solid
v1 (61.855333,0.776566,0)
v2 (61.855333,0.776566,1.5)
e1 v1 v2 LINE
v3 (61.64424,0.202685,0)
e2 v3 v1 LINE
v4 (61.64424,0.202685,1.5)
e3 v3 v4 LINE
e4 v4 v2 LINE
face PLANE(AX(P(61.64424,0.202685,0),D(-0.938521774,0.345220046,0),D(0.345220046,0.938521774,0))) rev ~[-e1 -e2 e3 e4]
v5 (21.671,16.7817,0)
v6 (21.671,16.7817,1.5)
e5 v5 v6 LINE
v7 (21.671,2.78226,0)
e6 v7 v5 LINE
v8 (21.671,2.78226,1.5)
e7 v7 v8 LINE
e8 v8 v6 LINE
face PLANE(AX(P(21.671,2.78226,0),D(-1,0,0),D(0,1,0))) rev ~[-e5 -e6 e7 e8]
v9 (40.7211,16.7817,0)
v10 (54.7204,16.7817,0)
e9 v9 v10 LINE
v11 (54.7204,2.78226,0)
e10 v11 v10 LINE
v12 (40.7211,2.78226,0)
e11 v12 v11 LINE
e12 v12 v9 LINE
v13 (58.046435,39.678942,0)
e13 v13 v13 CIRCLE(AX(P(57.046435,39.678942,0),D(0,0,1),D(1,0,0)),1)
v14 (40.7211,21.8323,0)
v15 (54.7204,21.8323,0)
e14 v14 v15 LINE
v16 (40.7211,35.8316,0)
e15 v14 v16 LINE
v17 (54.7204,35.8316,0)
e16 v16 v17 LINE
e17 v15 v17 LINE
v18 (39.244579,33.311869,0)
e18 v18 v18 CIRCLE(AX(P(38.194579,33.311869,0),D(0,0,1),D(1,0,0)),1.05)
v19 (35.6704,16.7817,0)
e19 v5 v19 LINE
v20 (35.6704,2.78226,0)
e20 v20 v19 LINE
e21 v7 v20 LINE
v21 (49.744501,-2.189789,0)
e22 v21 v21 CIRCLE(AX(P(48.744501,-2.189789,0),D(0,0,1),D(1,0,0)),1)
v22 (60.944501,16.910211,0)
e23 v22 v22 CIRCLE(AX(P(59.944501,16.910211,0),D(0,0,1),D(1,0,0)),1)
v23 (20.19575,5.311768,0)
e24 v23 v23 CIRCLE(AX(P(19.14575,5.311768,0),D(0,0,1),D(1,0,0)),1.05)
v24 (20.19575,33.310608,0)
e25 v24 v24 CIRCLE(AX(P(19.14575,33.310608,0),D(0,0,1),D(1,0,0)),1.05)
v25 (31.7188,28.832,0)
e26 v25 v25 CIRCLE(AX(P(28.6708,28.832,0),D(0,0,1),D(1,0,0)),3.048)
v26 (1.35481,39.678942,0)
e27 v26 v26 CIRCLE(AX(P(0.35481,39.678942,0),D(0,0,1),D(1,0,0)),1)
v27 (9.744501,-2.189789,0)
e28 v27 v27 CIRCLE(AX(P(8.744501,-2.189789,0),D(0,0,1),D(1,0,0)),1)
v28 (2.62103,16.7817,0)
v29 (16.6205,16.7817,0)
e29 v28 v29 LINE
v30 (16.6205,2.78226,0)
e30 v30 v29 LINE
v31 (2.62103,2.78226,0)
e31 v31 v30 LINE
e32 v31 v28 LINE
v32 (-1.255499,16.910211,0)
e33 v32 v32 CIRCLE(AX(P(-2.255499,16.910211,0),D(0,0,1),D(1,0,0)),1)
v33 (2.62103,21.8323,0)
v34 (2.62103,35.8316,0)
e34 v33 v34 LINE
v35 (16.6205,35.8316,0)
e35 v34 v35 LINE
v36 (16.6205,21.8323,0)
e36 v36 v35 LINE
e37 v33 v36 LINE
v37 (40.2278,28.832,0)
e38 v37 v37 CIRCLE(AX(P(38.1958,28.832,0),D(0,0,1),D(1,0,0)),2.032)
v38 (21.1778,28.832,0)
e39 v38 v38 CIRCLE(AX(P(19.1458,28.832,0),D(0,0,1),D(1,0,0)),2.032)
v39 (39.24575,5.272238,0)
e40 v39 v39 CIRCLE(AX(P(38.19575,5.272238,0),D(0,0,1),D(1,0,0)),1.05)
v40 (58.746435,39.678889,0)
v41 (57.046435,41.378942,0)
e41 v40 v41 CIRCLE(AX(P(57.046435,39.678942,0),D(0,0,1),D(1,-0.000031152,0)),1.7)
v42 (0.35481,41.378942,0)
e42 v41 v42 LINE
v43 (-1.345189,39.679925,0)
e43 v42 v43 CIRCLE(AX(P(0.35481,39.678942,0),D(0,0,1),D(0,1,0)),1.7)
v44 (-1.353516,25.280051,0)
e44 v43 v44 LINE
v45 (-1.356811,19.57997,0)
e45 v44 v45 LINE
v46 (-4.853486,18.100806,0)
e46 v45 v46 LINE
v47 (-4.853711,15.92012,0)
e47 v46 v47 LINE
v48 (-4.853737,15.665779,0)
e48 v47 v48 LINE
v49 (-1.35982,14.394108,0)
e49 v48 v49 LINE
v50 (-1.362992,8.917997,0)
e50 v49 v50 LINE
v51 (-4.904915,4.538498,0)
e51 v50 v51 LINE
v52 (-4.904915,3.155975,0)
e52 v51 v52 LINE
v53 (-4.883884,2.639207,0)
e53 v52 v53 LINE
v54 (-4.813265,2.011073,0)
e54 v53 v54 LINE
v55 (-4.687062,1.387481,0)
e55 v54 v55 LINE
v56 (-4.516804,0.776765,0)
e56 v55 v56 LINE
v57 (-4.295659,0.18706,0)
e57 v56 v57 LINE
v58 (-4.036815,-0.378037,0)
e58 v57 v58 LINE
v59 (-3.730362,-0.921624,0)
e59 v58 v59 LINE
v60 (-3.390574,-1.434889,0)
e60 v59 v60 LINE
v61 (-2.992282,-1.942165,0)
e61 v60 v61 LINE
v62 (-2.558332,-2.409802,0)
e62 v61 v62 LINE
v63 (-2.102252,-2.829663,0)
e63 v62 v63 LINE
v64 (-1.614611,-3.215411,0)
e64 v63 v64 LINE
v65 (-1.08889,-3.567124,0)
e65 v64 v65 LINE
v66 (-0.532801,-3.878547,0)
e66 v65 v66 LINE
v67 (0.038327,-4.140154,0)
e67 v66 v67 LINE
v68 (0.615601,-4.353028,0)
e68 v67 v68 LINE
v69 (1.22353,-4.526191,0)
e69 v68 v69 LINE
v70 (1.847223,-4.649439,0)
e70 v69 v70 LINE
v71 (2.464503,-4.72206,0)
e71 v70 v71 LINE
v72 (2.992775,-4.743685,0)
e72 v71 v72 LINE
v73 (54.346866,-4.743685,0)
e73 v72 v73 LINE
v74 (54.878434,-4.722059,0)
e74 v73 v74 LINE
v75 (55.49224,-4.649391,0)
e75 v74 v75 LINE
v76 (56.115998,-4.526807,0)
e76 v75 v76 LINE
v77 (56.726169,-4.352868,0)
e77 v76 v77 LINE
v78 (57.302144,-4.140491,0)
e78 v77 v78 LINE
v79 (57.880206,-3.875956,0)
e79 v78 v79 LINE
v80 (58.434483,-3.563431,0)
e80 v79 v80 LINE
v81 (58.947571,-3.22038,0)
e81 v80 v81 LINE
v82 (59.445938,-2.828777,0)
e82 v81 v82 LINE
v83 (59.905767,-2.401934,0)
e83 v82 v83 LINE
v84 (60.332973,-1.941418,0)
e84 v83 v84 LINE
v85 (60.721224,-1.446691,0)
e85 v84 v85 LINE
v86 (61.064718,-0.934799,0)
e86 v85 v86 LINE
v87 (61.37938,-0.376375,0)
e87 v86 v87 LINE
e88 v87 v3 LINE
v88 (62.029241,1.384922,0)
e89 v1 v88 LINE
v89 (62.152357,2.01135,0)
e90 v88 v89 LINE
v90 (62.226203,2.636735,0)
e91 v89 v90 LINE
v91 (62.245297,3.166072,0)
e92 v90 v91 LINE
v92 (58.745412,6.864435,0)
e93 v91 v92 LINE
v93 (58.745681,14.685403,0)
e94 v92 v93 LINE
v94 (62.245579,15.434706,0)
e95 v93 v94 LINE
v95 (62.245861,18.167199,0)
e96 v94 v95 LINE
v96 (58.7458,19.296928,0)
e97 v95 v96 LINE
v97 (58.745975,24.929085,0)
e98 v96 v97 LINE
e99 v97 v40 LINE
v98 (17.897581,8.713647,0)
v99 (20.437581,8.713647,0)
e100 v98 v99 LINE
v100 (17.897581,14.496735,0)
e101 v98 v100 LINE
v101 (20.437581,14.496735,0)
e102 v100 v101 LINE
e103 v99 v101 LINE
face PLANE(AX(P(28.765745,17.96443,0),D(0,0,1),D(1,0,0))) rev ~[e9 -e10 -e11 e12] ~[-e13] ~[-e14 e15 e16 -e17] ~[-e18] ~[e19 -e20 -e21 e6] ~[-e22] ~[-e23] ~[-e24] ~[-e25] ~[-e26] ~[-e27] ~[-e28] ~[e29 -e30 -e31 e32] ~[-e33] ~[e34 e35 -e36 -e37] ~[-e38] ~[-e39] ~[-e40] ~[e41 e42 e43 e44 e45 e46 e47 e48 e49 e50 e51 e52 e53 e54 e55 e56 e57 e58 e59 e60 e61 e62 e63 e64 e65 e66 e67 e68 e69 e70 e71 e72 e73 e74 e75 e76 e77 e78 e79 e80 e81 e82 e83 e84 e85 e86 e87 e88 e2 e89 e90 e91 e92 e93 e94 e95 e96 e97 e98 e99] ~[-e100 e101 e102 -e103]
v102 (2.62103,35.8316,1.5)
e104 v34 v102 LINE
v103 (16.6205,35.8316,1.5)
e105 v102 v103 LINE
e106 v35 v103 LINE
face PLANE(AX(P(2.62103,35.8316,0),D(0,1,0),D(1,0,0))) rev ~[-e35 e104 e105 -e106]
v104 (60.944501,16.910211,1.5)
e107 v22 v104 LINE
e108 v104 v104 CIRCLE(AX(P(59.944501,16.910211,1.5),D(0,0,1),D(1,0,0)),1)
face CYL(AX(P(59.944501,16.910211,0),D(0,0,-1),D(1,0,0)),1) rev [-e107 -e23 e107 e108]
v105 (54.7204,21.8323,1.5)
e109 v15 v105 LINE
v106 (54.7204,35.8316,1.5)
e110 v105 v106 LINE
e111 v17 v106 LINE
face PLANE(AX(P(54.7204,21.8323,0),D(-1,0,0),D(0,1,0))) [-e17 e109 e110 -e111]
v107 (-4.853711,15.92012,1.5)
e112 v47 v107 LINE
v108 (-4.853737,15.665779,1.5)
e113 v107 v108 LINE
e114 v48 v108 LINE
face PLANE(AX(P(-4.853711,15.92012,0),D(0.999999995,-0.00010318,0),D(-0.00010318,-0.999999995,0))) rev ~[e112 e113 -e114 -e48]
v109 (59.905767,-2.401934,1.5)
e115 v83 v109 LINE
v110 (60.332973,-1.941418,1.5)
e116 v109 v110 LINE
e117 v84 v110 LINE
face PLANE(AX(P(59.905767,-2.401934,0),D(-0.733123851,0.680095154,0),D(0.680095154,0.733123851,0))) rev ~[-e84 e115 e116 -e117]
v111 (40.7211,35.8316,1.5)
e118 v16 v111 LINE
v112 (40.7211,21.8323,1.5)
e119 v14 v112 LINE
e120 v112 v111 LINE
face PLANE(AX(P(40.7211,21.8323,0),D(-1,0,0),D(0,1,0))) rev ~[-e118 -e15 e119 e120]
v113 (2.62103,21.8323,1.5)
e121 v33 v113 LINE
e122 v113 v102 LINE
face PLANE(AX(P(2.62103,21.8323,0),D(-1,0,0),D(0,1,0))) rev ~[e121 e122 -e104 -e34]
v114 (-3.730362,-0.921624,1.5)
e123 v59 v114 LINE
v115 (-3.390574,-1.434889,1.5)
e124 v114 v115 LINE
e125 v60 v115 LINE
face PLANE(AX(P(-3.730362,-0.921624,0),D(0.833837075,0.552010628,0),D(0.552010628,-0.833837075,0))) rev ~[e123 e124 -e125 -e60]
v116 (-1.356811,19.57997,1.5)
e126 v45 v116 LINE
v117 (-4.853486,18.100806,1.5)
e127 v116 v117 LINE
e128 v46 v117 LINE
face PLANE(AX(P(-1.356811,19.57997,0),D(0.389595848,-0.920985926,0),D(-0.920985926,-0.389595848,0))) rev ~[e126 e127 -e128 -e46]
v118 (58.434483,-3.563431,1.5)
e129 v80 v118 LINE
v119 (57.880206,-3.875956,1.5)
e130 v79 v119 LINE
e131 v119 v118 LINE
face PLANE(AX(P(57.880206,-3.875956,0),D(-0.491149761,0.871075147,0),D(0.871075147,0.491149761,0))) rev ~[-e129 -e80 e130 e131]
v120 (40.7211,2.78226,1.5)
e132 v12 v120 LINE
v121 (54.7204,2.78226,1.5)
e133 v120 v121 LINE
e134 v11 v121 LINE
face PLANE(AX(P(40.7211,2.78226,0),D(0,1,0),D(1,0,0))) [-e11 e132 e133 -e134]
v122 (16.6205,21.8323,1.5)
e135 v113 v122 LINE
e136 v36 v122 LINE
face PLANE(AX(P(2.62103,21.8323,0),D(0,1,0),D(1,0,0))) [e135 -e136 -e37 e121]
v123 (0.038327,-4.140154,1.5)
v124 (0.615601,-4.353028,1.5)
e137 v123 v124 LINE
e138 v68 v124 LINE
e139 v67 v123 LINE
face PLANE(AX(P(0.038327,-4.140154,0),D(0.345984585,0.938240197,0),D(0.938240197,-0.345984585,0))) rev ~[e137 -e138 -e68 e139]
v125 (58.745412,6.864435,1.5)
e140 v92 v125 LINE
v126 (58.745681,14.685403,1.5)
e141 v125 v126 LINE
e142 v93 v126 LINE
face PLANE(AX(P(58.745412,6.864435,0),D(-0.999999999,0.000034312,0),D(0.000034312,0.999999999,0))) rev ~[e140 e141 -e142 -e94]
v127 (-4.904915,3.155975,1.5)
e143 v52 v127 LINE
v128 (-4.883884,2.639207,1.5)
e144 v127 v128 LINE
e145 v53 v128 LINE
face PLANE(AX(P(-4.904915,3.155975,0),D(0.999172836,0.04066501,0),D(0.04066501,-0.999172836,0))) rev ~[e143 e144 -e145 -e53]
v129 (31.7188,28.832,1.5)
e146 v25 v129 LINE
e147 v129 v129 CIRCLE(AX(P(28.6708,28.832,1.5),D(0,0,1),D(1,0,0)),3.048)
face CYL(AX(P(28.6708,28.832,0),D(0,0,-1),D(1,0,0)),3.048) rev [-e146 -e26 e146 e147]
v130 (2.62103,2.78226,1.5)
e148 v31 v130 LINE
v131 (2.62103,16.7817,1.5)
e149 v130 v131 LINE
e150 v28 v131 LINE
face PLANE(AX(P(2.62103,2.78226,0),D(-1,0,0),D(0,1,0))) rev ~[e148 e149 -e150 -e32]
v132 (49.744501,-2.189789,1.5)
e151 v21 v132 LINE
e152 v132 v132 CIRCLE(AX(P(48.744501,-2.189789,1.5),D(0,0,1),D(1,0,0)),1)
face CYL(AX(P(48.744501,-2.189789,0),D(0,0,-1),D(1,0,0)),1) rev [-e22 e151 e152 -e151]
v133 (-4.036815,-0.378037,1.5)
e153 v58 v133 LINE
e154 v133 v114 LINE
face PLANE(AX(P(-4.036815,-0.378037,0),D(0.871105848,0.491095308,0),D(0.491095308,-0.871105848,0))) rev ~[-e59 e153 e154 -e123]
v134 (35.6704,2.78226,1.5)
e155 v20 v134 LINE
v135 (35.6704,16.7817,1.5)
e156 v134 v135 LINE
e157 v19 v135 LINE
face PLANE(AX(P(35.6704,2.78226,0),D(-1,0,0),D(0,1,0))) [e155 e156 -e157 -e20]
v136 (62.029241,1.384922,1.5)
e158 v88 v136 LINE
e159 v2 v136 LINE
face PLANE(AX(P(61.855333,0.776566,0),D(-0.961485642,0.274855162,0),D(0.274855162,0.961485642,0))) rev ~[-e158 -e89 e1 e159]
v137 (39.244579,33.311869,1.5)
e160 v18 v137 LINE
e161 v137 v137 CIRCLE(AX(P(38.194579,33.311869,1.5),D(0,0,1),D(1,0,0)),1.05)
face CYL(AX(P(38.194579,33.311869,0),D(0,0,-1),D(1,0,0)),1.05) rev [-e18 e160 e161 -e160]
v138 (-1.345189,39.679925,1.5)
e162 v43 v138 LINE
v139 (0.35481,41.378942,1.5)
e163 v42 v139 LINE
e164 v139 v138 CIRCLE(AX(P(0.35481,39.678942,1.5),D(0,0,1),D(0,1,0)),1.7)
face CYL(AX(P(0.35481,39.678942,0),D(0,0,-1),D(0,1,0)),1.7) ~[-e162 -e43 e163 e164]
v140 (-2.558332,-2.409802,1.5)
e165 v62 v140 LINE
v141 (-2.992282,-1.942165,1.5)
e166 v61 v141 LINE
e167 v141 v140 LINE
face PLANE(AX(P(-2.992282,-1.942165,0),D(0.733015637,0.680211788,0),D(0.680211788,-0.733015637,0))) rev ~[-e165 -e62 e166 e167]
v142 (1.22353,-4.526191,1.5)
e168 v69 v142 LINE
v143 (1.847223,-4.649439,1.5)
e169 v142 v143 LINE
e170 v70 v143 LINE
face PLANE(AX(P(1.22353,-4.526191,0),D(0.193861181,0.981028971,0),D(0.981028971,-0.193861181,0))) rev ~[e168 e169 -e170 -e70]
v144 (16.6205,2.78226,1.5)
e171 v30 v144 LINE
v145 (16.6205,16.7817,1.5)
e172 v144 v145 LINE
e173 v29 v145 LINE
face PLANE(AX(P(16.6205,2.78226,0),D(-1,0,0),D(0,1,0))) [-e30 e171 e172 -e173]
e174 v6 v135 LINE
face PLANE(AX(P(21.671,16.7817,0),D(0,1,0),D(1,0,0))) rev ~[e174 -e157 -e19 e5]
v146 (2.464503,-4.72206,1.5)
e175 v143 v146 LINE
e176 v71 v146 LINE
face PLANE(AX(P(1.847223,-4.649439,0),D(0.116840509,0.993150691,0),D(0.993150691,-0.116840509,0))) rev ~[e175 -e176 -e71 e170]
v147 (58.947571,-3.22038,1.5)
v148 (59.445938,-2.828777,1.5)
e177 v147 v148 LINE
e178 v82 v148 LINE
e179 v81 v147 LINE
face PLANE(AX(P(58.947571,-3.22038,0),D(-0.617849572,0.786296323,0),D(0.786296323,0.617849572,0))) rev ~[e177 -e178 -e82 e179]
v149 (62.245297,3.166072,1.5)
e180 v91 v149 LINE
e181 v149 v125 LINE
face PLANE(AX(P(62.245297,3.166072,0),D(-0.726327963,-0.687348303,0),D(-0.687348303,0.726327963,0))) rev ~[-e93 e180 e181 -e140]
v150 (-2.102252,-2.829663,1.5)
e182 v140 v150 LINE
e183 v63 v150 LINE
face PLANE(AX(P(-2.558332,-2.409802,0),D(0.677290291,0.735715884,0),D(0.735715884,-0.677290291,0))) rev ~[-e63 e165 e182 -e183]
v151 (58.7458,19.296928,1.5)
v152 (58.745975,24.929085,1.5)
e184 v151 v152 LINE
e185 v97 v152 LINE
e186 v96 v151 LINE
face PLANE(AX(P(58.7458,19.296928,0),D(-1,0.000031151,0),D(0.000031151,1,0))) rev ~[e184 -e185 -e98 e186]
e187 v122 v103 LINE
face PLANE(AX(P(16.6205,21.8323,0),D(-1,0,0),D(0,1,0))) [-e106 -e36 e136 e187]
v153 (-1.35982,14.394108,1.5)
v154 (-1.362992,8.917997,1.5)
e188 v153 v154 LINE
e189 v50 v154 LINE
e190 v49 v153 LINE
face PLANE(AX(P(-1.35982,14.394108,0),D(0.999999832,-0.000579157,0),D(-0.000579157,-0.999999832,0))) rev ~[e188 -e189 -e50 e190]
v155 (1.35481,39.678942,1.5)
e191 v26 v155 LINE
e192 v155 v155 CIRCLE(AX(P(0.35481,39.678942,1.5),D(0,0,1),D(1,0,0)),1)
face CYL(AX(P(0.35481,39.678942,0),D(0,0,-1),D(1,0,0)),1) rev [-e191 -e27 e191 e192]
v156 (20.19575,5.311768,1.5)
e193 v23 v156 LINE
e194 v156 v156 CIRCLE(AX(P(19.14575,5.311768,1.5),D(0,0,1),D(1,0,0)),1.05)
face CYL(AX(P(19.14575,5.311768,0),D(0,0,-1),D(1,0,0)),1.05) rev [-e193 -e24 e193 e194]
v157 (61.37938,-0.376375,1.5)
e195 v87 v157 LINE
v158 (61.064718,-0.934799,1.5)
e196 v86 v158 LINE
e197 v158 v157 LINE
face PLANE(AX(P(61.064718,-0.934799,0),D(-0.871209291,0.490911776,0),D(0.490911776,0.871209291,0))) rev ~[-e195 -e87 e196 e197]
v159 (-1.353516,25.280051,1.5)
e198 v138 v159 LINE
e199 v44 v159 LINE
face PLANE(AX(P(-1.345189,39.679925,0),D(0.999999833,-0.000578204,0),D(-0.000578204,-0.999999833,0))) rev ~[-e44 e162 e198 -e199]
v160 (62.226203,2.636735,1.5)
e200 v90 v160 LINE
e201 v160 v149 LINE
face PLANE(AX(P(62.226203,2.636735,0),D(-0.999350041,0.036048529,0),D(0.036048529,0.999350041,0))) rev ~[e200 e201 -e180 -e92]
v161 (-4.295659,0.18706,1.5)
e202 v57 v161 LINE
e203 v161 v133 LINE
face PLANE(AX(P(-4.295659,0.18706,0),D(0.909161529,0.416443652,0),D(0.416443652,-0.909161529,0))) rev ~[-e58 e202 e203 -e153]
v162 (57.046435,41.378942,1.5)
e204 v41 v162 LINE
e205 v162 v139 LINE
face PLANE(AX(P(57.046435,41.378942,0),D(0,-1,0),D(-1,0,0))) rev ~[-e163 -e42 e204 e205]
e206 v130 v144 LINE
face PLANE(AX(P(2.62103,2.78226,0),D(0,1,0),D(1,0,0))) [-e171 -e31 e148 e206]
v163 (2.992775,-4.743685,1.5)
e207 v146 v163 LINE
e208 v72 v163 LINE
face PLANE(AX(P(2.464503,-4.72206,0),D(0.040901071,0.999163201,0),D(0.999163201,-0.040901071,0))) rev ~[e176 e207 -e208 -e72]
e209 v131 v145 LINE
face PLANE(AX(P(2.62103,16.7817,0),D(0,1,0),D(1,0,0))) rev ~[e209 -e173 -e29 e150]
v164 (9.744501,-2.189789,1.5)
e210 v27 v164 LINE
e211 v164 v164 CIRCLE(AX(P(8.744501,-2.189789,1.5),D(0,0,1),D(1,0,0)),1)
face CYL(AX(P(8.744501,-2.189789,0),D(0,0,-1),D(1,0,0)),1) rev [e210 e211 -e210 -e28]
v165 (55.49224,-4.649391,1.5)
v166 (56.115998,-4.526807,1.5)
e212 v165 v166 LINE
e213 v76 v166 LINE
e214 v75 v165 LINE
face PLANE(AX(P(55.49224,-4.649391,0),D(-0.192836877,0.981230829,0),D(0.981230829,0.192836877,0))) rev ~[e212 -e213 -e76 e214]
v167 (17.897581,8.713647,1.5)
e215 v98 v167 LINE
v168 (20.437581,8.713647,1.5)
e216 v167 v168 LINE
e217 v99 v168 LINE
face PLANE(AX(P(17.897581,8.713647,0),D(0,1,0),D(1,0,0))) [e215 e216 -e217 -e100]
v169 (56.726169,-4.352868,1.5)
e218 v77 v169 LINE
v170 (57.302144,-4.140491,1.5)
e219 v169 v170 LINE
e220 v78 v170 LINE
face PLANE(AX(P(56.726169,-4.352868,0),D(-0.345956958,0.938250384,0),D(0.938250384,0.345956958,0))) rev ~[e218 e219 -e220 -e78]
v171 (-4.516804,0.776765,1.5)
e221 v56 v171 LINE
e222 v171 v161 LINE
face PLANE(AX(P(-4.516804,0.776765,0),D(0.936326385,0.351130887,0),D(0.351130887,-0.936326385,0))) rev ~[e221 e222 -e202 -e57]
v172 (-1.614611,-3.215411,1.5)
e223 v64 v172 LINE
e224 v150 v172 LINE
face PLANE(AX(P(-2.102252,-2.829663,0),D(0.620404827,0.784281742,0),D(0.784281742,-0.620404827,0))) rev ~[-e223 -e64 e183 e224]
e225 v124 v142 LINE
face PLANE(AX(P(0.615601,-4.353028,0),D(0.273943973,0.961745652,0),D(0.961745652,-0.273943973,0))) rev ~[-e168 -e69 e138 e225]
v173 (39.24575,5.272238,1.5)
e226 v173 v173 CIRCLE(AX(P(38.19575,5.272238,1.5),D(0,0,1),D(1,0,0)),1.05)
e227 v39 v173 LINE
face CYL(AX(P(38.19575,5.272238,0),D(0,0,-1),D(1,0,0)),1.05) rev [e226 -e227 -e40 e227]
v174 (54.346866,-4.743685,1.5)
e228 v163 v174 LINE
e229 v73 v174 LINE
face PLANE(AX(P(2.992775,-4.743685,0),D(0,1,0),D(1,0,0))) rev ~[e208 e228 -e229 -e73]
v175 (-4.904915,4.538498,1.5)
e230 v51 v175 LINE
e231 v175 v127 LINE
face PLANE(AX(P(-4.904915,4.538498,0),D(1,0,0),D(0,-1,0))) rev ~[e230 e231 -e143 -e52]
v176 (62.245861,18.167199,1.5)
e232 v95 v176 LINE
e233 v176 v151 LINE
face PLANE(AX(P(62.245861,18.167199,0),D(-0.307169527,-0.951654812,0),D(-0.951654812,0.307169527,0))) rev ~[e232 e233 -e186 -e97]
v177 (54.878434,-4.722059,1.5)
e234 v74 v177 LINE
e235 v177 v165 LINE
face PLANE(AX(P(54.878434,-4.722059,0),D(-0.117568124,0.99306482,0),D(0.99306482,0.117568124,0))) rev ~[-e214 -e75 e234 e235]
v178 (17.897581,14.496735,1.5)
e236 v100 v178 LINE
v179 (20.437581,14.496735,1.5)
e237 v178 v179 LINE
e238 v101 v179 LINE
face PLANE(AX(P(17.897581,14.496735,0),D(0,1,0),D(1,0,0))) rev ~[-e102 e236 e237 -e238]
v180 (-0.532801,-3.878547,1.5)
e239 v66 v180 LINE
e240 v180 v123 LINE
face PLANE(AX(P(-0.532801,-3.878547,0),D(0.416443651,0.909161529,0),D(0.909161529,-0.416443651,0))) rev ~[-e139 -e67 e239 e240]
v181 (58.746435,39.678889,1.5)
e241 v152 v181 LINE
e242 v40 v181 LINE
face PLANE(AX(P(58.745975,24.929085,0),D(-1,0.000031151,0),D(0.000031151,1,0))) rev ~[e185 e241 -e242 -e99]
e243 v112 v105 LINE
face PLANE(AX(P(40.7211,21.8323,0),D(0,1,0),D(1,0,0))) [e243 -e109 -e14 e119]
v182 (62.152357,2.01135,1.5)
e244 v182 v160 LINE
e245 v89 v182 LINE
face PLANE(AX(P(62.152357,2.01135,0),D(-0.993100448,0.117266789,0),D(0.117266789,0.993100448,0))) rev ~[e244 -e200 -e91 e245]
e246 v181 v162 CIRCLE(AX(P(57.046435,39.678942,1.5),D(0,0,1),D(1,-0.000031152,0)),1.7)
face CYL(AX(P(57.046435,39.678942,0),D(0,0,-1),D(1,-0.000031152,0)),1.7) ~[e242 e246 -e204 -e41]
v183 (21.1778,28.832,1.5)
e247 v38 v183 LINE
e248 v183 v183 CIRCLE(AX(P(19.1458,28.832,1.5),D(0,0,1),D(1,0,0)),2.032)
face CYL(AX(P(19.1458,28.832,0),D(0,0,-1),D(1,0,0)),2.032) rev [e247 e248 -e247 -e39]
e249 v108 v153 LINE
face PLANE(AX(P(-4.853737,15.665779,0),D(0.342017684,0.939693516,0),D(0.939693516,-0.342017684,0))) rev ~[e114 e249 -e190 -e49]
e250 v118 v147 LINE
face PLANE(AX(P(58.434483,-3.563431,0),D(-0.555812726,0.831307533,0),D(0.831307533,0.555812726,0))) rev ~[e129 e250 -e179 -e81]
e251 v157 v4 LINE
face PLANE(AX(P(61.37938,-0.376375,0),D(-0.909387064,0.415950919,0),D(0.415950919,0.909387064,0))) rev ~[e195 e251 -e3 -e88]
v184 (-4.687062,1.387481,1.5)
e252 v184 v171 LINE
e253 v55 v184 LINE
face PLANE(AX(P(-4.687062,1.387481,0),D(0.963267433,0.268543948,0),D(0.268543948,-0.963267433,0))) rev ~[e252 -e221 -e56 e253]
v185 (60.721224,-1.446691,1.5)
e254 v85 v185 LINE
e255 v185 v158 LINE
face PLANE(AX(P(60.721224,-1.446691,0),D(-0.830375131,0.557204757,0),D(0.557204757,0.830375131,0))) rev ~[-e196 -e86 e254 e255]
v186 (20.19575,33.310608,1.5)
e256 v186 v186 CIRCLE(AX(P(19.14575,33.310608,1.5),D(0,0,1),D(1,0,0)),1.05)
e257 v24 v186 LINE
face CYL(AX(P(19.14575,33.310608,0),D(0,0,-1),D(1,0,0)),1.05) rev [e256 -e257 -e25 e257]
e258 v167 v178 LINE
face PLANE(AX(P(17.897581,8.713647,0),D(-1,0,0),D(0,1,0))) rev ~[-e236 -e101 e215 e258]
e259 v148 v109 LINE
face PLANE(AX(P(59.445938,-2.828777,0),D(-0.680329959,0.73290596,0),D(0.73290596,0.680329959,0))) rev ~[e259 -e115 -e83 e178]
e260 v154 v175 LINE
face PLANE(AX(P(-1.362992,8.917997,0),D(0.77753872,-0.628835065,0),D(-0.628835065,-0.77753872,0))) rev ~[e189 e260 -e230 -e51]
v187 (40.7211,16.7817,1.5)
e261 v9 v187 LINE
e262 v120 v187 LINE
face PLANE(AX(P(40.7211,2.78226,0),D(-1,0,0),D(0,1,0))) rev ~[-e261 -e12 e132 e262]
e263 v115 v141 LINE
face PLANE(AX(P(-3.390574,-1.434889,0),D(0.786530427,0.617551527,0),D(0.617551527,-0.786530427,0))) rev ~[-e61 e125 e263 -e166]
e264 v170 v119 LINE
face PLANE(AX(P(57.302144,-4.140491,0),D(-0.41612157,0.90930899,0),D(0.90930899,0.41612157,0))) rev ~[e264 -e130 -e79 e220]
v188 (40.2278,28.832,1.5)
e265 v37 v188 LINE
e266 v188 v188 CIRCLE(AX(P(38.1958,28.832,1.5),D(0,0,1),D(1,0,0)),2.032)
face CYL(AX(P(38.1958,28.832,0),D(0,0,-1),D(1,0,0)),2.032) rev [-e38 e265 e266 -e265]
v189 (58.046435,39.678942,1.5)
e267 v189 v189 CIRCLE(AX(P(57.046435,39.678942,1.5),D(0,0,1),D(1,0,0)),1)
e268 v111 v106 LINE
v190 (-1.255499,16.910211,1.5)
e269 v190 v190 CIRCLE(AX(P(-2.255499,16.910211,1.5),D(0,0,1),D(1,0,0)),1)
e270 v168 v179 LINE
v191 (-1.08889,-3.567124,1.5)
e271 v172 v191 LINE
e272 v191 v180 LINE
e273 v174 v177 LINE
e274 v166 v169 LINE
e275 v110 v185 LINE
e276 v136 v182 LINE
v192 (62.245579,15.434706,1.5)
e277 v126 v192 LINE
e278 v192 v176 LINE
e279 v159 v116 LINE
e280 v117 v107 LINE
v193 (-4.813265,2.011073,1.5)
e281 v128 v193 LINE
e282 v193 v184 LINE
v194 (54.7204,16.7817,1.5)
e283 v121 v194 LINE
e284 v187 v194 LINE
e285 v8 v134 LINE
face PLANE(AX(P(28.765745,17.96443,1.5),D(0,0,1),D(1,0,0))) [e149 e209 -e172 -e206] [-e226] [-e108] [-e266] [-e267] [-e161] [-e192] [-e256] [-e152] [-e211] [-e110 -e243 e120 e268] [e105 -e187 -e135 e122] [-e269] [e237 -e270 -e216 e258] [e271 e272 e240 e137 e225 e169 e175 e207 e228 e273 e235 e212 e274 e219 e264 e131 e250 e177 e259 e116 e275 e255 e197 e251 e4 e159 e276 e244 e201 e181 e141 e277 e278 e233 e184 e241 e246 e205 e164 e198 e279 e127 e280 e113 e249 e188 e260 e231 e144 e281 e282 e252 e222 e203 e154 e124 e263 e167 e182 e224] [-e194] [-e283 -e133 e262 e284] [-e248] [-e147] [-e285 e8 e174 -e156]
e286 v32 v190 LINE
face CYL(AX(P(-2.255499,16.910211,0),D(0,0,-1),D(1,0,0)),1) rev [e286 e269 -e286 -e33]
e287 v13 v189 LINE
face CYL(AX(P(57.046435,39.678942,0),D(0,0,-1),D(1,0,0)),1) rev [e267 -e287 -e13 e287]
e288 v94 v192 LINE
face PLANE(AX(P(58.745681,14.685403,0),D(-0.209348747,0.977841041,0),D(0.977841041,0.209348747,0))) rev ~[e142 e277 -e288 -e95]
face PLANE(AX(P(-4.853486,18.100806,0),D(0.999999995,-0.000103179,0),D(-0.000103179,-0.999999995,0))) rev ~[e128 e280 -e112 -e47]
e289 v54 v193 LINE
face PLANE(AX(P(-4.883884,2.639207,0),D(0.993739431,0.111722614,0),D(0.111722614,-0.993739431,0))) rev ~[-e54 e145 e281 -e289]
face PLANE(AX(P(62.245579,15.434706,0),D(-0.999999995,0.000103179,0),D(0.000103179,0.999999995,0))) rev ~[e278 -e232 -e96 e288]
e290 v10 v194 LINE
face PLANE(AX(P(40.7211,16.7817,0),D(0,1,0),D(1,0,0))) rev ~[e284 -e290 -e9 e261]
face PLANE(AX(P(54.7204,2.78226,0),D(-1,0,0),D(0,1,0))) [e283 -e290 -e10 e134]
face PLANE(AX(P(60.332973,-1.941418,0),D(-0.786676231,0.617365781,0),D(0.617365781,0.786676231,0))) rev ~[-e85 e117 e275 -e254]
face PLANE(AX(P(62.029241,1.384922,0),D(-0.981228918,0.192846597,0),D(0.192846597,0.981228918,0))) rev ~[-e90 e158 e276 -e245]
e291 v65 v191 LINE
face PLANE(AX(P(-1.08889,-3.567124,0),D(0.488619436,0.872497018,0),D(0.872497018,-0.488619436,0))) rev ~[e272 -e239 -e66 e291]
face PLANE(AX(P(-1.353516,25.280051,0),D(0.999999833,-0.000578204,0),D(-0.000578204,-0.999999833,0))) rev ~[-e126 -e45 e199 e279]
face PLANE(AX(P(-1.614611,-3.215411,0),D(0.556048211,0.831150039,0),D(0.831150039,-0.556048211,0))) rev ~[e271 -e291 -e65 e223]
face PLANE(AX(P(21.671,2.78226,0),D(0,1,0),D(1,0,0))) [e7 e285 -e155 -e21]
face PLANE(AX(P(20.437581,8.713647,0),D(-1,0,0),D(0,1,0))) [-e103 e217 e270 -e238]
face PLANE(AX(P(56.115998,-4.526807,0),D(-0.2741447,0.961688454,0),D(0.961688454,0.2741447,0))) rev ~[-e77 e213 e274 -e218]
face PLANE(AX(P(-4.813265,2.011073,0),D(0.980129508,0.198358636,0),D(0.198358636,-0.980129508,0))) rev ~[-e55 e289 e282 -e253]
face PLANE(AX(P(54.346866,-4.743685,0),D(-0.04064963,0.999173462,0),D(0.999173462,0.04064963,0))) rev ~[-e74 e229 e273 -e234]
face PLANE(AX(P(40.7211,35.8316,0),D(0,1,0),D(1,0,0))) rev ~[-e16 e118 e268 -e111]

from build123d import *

# Parameters (mm, degrees)
MODEL_R         = 1
MODEL_R_2       = 1.05
MODEL_W         = 13.99947
MODEL_H         = 13.99944
MODEL_W_2       = 2.54
MODEL_H_2       = 5.78308735
MODEL_W_3       = 13.9994
MODEL_W_4       = 13.9993
MODEL_H_3       = 13.9993
MODEL_R_3       = 2.032
MODEL_R_4       = 3.048
EXTRUDE_1_DEPTH = 1.5


with BuildPart() as part:
    # Model → 凸台-拉伸1 (new body)
    with BuildSketch(Plane.XY):
        with BuildLine():
            Line((57.046434605, 41.37894176), (0.354810268, 41.37894176))
            ThreePointArc((0.354810268, 41.37894176), (-0.846923686, 40.881370762), (-1.345189448, 39.679924707))
            Line((-1.345189448, 39.679924707), (-1.353515518, 25.280051374))
            Line((-1.353515518, 25.280051374), (-1.356811329, 19.579970423))
            Line((-1.356811329, 19.579970423), (-4.853485523, 18.100805857))
            Line((-4.853485523, 18.100805857), (-4.853710523, 15.920120221))
            Line((-4.853710523, 15.920120221), (-4.853736766, 15.66577888))
            Line((-4.853736766, 15.66577888), (-1.359820188, 14.394107598))
            Line((-1.359820188, 14.394107598), (-1.362991715, 8.917997305))
            Line((-1.362991715, 8.917997305), (-4.9049154, 4.538497879))
            Line((-4.9049154, 4.538497879), (-4.9049154, 3.15597541))
            Line((-4.9049154, 3.15597541), (-4.883883595, 2.639206616))
            Line((-4.883883595, 2.639206616), (-4.813264805, 2.011073476))
            Line((-4.813264805, 2.011073476), (-4.687062167, 1.387481119))
            Line((-4.687062167, 1.387481119), (-4.516803943, 0.776764684))
            Line((-4.516803943, 0.776764684), (-4.295659415, 0.187060206))
            Line((-4.295659415, 0.187060206), (-4.03681533, -0.378036856))
            Line((-4.03681533, -0.378036856), (-3.730362364, -0.921623746))
            Line((-3.730362364, -0.921623746), (-3.390574278, -1.434889052))
            Line((-3.390574278, -1.434889052), (-2.992281832, -1.942165148))
            Line((-2.992281832, -1.942165148), (-2.558331876, -2.409802006))
            Line((-2.558331876, -2.409802006), (-2.102251702, -2.829663369))
            Line((-2.102251702, -2.829663369), (-1.614610519, -3.215411153))
            Line((-1.614610519, -3.215411153), (-1.088890304, -3.567123565))
            Line((-1.088890304, -3.567123565), (-0.532800957, -3.878547051))
            Line((-0.532800957, -3.878547051), (0.038326794, -4.140153507))
            Line((0.038326794, -4.140153507), (0.615600502, -4.353028424))
            Line((0.615600502, -4.353028424), (1.223529929, -4.526191258))
            Line((1.223529929, -4.526191258), (1.847223482, -4.64943937))
            Line((1.847223482, -4.64943937), (2.464503115, -4.722060038))
            Line((2.464503115, -4.722060038), (2.992774524, -4.743685))
            Line((2.992774524, -4.743685), (54.34686609, -4.743685))
            Line((54.34686609, -4.743685), (54.87843401, -4.722059086))
            Line((54.87843401, -4.722059086), (55.492240411, -4.649391053))
            Line((55.492240411, -4.649391053), (56.11599848, -4.526806688))
            Line((56.11599848, -4.526806688), (56.726168878, -4.352867841))
            Line((56.726168878, -4.352867841), (57.302144081, -4.140491025))
            Line((57.302144081, -4.140491025), (57.880206411, -3.875955859))
            Line((57.880206411, -3.875955859), (58.434482529, -3.563431063))
            Line((58.434482529, -3.563431063), (58.947571314, -3.220379587))
            Line((58.947571314, -3.220379587), (59.445938304, -2.8287768))
            Line((59.445938304, -2.8287768), (59.905767444, -2.401934126))
            Line((59.905767444, -2.401934126), (60.332973054, -1.941418241))
            Line((60.332973054, -1.941418241), (60.721224007, -1.446690794))
            Line((60.721224007, -1.446690794), (61.064717919, -0.934798534))
            Line((61.064717919, -0.934798534), (61.379380282, -0.376374826))
            Line((61.379380282, -0.376374826), (61.644240363, 0.202684675))
            Line((61.644240363, 0.202684675), (61.855333273, 0.776565869))
            Line((61.855333273, 0.776565869), (62.029241049, 1.384922025))
            Line((62.029241049, 1.384922025), (62.152356641, 2.011350393))
            Line((62.152356641, 2.011350393), (62.226202972, 2.636734827))
            Line((62.226202972, 2.636734827), (62.245297192, 3.166071528))
            Line((62.245297192, 3.166071528), (58.745412398, 6.86443549))
            Line((58.745412398, 6.86443549), (58.74568075, 14.685402523))
            Line((58.74568075, 14.685402523), (62.245579127, 15.434705638))
            Line((62.245579127, 15.434705638), (62.245861062, 18.167199282))
            Line((62.245861062, 18.167199282), (58.745799684, 19.296928449))
            Line((58.745799684, 19.296928449), (58.745975132, 24.929084585))
            Line((58.745975132, 24.929084585), (58.746434604, 39.678888803))
            ThreePointArc((58.746434604, 39.678888803), (58.248534856, 40.881004565), (57.046434605, 41.37894176))
        make_face()
        with Locations((8.744501265, -2.189788582)):
            Circle(MODEL_R, mode=Mode.SUBTRACT)
        with Locations((19.14575, 5.311768186)):
            Circle(MODEL_R_2, mode=Mode.SUBTRACT)
        with Locations((9.620765, 9.78198)):
            Rectangle(MODEL_W, MODEL_H, mode=Mode.SUBTRACT)
        with Locations((-2.255498735, 16.910211418)):
            Circle(MODEL_R, mode=Mode.SUBTRACT)
        with Locations((19.167580955, 11.605191102)):
            Rectangle(MODEL_W_2, MODEL_H_2, mode=Mode.SUBTRACT)
        with Locations((38.19575, 5.272237591)):
            Circle(MODEL_R_2, mode=Mode.SUBTRACT)
        with Locations((48.744501265, -2.189788582)):
            Circle(MODEL_R, mode=Mode.SUBTRACT)
        with Locations((28.6707, 9.78198)):
            Rectangle(MODEL_W_3, MODEL_H, mode=Mode.SUBTRACT)
        with Locations((47.72075, 9.78198)):
            Rectangle(MODEL_W_4, MODEL_H, mode=Mode.SUBTRACT)
        with Locations((59.944501265, 16.910211418)):
            Circle(MODEL_R, mode=Mode.SUBTRACT)
        with Locations((9.620765, 28.83195)):
            Rectangle(MODEL_W, MODEL_H_3, mode=Mode.SUBTRACT)
        with Locations((19.1458, 28.832)):
            Circle(MODEL_R_3, mode=Mode.SUBTRACT)
        with Locations((0.354810268, 39.67894176)):
            Circle(MODEL_R, mode=Mode.SUBTRACT)
        with Locations((19.14575, 33.310608186)):
            Circle(MODEL_R_2, mode=Mode.SUBTRACT)
        with Locations((28.6708, 28.832)):
            Circle(MODEL_R_4, mode=Mode.SUBTRACT)
        with Locations((38.1958, 28.832)):
            Circle(MODEL_R_3, mode=Mode.SUBTRACT)
        with Locations((47.72075, 28.83195)):
            Rectangle(MODEL_W_4, MODEL_H_3, mode=Mode.SUBTRACT)
        with Locations((38.194579287, 33.311869349)):
            Circle(MODEL_R_2, mode=Mode.SUBTRACT)
        with Locations((57.046434605, 39.67894176)):
            Circle(MODEL_R, mode=Mode.SUBTRACT)
    extrude(amount=EXTRUDE_1_DEPTH)


solid = part.part
